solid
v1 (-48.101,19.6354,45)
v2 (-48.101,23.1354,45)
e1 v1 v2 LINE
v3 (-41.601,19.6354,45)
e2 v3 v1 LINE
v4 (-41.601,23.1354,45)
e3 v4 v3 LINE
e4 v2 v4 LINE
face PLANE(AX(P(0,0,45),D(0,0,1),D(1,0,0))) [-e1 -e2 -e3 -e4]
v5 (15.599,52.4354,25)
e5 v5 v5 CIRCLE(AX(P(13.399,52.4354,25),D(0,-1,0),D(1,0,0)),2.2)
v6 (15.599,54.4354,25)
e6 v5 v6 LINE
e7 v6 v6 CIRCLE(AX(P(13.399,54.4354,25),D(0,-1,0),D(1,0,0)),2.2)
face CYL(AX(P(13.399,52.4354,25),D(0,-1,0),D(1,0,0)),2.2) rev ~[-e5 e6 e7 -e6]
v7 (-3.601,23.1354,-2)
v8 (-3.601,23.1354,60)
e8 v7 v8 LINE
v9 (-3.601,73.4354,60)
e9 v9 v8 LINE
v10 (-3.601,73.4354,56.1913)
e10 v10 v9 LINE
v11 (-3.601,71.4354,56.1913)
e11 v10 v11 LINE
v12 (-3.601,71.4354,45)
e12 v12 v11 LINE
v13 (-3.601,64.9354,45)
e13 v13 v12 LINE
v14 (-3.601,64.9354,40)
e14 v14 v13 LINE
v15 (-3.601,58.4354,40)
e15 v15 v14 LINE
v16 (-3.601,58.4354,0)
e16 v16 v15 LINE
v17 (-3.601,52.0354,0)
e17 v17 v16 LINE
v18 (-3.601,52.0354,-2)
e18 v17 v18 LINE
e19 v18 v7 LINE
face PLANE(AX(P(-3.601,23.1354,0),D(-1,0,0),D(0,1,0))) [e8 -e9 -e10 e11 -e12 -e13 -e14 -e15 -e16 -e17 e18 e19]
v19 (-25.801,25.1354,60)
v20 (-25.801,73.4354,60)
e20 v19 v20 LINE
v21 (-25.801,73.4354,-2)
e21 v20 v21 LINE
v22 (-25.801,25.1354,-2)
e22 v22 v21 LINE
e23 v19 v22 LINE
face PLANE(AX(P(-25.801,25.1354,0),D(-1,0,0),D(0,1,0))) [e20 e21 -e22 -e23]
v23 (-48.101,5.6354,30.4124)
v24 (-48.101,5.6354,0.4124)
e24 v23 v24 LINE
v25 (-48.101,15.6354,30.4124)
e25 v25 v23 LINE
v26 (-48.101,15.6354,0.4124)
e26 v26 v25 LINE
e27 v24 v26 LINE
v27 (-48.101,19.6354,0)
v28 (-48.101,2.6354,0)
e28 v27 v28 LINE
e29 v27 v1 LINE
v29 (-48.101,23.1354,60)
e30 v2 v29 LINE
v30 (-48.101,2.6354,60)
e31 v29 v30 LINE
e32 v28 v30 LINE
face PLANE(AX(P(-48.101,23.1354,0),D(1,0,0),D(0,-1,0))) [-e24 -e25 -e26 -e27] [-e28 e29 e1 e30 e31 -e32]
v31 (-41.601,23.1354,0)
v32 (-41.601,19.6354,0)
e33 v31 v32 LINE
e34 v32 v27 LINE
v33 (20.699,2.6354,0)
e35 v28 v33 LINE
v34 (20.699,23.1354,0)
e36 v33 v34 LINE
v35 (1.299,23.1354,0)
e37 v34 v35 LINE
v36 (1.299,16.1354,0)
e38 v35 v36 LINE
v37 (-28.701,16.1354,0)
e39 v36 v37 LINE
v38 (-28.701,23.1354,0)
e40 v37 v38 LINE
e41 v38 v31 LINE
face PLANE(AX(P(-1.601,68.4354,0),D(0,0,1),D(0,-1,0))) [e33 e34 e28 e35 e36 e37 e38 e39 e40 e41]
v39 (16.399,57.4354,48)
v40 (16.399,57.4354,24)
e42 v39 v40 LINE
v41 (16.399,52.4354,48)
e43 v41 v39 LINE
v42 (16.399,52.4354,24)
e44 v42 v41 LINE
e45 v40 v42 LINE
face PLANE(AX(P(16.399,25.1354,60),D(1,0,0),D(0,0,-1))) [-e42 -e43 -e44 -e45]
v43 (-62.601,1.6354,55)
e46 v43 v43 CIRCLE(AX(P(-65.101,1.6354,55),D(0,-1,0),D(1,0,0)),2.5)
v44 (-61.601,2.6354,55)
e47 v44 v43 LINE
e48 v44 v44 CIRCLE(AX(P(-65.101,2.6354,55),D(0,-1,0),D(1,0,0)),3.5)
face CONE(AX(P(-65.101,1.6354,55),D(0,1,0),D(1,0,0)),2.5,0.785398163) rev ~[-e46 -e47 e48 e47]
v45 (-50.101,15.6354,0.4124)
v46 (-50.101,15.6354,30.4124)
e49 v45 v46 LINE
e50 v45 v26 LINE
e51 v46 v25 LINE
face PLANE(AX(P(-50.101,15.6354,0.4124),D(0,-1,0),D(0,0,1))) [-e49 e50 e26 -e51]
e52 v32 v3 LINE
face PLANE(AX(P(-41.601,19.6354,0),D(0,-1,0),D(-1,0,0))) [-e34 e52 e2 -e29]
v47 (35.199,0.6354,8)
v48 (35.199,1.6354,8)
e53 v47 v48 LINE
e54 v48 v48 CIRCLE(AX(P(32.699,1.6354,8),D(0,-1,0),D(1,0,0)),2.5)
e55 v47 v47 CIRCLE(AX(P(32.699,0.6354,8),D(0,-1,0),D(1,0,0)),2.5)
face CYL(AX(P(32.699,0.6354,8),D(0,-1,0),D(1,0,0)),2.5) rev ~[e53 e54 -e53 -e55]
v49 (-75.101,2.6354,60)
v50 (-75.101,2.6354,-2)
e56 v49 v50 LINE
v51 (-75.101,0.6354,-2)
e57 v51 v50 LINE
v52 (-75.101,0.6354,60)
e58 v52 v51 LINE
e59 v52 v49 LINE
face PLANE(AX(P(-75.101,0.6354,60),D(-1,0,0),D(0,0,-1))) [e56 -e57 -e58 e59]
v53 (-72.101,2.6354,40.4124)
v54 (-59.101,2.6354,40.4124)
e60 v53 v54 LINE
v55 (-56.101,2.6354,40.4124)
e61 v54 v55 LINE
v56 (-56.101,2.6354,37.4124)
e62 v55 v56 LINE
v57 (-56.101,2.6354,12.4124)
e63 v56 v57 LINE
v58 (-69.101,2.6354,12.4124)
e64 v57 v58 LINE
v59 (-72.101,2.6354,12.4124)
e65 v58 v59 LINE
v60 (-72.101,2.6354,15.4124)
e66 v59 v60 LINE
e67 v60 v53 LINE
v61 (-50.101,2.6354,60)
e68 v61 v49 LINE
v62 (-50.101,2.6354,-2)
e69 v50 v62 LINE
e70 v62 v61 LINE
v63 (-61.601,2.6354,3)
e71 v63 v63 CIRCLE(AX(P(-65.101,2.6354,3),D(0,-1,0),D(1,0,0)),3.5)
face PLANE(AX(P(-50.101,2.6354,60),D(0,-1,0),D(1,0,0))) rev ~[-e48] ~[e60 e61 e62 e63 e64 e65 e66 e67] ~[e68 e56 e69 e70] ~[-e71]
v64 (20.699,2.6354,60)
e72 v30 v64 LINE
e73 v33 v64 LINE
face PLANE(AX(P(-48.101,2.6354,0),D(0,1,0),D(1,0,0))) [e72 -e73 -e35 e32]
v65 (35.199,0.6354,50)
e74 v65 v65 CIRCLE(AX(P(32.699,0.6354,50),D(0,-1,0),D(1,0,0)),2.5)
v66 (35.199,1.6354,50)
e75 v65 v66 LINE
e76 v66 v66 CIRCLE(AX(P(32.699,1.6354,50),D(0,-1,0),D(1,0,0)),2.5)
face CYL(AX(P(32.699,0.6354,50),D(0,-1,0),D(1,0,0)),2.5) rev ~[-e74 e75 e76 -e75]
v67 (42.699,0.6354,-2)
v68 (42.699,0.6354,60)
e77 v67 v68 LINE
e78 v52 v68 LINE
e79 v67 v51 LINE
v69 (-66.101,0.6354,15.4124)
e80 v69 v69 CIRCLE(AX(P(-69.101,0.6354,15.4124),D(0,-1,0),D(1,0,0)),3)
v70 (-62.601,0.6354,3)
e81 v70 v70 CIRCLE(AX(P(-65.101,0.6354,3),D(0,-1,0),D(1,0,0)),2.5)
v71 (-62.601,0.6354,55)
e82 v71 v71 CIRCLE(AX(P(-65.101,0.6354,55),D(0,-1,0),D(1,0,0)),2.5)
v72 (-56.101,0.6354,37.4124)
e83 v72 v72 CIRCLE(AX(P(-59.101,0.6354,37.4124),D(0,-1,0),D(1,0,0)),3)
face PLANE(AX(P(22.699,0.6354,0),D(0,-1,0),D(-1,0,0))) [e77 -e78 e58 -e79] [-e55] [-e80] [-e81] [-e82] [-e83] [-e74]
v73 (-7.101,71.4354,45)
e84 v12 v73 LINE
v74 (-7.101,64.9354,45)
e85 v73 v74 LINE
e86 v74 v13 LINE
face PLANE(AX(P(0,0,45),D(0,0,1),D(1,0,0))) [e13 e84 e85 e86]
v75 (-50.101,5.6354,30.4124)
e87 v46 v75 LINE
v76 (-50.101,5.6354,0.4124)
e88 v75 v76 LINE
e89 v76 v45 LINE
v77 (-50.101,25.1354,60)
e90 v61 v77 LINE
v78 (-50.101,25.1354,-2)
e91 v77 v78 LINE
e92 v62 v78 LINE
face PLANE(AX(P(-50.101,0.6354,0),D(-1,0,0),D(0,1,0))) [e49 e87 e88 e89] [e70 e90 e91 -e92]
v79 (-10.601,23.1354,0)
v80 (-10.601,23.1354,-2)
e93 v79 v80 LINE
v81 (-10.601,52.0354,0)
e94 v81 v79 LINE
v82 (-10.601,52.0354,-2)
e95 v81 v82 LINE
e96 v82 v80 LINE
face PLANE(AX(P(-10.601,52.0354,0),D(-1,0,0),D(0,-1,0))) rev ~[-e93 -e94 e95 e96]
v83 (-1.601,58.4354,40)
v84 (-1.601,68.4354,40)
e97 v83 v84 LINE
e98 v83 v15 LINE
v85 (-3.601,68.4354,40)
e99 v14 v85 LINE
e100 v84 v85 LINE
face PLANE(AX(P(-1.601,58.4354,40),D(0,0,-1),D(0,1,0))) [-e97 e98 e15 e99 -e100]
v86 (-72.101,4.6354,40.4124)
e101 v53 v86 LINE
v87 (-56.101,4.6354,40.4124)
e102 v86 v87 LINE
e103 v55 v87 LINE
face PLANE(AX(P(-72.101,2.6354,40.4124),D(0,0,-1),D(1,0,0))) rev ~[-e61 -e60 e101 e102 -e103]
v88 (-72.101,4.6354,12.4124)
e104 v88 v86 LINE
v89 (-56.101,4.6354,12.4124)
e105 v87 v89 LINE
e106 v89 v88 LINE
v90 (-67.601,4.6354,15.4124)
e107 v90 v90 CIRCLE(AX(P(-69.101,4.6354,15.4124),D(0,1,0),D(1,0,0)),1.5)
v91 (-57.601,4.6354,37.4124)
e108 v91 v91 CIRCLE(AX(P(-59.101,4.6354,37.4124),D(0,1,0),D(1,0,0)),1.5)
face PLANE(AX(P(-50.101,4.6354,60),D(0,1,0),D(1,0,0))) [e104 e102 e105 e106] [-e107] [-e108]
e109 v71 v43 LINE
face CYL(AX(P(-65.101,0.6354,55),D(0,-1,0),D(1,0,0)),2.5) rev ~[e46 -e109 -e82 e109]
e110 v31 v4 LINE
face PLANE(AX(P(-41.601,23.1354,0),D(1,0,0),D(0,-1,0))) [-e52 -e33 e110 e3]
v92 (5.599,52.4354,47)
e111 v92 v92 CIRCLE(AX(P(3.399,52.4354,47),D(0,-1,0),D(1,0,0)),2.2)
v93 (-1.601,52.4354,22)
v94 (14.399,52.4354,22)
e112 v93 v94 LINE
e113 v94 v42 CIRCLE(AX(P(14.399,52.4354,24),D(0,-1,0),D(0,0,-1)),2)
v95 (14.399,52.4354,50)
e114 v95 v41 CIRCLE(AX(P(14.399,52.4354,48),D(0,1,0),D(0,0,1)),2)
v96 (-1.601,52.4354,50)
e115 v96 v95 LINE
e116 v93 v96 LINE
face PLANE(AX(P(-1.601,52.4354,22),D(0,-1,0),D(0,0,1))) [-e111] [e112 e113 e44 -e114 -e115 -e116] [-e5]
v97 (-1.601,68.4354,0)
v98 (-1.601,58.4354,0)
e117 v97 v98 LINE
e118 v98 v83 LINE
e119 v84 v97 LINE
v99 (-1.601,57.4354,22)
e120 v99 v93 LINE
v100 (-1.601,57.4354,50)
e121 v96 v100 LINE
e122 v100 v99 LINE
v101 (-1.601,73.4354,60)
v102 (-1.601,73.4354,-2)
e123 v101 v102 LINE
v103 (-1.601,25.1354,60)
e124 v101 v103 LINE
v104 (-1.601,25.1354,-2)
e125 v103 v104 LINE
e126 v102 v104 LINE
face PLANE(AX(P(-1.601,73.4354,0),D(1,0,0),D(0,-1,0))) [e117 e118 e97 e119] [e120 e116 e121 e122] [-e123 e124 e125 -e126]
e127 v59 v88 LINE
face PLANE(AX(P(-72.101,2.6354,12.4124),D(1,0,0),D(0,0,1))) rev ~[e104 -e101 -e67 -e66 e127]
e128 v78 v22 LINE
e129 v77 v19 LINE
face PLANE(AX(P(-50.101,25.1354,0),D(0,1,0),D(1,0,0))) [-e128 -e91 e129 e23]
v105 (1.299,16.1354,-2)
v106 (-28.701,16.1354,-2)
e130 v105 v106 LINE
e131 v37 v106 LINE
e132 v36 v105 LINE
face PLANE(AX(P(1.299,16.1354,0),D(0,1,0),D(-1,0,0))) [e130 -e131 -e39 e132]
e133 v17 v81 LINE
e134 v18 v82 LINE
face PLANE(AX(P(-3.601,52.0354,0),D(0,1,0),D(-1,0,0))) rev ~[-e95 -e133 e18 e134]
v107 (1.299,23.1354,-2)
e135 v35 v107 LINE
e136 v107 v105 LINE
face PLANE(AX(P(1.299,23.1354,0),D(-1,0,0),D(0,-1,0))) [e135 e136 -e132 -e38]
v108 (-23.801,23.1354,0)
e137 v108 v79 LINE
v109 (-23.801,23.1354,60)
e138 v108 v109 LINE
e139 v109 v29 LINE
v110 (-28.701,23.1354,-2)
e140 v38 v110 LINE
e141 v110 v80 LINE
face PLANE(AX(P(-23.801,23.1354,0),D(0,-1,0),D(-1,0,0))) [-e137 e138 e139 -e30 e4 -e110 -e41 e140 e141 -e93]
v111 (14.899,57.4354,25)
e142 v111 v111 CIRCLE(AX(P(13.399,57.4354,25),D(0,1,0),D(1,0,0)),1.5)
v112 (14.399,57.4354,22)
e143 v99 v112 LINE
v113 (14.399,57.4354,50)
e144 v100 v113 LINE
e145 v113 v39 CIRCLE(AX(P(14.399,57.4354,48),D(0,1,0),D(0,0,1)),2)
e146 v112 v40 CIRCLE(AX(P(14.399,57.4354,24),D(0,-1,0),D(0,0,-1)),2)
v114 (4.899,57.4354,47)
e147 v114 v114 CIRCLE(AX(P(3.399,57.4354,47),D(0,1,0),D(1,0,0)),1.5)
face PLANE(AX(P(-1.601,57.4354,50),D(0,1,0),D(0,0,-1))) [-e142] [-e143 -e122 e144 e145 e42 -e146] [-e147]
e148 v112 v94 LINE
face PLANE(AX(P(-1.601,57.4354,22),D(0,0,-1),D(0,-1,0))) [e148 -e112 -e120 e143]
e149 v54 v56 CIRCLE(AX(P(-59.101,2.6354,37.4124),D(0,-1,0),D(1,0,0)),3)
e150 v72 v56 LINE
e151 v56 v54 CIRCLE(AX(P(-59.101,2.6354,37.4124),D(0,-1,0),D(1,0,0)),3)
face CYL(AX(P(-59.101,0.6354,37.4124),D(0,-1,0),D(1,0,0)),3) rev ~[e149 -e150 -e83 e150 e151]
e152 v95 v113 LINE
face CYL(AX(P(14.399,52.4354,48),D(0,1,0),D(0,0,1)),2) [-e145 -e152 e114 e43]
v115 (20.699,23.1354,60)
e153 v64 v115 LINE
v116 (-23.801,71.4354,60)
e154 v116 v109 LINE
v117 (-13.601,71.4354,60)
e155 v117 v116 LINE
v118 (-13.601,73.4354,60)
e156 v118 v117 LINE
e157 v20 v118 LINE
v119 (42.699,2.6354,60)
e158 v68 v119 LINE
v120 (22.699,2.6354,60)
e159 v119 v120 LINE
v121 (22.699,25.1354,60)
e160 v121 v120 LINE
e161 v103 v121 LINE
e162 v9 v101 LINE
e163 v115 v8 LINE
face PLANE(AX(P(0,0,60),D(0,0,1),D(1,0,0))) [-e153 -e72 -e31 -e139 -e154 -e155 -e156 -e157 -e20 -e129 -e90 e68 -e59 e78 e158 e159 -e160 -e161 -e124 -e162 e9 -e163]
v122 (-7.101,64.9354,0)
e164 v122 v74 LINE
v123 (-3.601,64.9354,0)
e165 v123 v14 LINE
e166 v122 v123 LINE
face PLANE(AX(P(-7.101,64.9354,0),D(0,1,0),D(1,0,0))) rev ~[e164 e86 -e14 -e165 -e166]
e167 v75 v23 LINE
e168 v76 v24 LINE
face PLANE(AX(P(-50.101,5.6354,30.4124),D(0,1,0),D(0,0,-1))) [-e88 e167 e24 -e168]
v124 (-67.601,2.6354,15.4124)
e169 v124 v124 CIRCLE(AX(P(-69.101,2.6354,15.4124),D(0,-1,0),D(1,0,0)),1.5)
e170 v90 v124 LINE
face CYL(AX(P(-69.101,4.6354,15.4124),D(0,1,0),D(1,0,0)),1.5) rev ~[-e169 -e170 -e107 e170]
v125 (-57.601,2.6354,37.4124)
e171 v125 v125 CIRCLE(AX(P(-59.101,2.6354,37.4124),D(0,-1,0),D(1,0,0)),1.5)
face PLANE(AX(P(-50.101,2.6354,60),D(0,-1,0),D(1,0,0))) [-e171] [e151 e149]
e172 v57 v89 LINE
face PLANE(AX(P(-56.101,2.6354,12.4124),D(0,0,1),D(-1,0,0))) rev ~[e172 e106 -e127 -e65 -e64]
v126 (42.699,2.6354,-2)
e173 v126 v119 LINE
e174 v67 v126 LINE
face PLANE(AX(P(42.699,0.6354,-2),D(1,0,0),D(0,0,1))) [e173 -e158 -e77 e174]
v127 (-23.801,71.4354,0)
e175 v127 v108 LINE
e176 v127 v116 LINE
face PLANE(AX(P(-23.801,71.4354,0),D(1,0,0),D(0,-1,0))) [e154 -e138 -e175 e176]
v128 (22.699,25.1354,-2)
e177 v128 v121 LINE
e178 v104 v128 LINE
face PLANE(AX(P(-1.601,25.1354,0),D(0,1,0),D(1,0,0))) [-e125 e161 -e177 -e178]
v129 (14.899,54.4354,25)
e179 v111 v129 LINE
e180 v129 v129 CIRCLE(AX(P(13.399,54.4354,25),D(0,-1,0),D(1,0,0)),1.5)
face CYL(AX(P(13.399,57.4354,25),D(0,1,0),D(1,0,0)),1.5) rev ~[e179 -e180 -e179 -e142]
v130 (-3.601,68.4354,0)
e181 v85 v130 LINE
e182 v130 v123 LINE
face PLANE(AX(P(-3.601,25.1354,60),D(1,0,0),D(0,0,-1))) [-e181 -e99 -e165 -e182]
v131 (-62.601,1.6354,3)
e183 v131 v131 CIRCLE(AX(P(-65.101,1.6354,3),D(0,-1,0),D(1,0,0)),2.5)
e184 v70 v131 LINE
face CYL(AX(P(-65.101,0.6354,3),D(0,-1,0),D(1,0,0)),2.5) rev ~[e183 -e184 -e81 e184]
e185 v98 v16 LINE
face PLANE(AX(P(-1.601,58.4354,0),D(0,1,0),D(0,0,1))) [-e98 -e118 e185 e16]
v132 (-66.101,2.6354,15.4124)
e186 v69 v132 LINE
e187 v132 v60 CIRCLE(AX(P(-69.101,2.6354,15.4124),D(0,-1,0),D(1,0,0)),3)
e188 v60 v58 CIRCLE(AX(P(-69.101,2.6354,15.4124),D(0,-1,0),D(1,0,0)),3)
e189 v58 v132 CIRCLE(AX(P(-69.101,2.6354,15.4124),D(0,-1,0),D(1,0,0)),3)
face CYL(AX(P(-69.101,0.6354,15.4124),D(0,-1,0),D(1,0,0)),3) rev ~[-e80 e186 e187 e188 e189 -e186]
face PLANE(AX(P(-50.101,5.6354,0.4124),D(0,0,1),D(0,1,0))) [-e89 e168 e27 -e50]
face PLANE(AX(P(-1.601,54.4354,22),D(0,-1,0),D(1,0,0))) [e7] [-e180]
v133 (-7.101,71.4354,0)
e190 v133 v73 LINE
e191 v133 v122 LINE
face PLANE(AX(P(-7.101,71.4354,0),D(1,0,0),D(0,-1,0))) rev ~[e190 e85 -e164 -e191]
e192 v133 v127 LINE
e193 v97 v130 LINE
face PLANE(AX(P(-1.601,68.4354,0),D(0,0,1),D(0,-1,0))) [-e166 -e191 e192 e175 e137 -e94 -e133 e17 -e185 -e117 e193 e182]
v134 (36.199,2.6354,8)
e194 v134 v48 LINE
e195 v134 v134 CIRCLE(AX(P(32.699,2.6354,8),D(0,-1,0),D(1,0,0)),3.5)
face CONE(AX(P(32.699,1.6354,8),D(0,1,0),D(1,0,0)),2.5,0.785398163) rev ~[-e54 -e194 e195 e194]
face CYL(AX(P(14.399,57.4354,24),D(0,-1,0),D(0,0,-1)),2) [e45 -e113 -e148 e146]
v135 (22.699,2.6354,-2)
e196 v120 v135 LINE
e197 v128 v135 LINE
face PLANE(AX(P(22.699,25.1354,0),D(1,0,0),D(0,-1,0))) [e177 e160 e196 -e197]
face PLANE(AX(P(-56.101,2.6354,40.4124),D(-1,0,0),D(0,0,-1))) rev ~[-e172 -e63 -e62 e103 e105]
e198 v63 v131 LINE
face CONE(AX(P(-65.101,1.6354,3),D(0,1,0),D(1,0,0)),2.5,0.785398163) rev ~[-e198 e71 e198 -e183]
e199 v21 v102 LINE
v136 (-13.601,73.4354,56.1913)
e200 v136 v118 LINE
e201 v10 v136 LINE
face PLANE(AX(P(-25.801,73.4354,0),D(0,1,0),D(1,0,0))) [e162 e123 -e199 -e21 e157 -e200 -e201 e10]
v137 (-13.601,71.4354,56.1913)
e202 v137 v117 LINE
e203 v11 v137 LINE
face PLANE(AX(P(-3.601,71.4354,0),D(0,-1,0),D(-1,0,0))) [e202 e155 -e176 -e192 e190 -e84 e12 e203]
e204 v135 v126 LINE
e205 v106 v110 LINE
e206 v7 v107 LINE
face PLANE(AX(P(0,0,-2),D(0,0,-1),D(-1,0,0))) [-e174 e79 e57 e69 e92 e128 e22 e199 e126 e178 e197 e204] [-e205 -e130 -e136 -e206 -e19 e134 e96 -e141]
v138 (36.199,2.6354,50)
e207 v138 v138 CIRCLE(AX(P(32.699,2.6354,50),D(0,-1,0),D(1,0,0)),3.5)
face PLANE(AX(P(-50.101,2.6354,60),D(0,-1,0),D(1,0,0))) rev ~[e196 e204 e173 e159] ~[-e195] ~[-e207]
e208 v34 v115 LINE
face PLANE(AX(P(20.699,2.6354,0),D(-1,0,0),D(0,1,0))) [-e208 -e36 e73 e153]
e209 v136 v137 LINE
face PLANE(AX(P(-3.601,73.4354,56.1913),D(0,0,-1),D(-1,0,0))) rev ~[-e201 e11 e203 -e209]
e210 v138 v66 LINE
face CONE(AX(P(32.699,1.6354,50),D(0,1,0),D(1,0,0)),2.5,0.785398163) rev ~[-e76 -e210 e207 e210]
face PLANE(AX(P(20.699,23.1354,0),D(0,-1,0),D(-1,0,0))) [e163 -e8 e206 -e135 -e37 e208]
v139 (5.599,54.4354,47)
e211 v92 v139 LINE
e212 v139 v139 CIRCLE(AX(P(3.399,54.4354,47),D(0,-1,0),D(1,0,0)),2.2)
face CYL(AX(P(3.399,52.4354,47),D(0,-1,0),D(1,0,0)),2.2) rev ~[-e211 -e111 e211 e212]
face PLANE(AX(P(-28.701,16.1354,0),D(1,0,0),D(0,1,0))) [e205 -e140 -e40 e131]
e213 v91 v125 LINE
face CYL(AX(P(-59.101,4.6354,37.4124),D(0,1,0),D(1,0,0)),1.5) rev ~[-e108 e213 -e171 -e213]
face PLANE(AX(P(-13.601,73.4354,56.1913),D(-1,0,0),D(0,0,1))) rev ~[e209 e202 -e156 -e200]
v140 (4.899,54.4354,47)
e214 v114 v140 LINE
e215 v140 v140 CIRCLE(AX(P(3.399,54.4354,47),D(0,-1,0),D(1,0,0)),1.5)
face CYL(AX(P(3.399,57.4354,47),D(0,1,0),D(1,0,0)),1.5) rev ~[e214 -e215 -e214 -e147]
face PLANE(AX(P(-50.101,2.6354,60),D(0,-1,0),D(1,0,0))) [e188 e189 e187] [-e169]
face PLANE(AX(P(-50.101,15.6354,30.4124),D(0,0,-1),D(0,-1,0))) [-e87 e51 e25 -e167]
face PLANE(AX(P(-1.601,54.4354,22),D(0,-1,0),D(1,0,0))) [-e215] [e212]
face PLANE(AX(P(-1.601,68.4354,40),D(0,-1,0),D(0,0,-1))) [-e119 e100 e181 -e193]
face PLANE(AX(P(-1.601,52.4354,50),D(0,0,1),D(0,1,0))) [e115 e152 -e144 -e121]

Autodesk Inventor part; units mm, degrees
ref_plane "YZ Plane" through (0, 0, 0) normal (1, 0, 0) x (0, 1, 0)
ref_plane "XZ Plane" through (0, 0, 0) normal (0, 1, 0) x (-1, 0, 0)
ref_plane "XY Plane" through (0, 0, 0) normal (0, 0, 1) x (1, 0, 0)
sketch "Sketch1" plane through (0, 0, 0) normal (0, 0, 1) x (1, 0, 0)
  line L0 (-50.101, 0.6354) -> (-50.101, 25.1354)
  line L1 (-50.101, 25.1354) -> (-25.801, 25.1354)
  line L2 (-25.801, 25.1354) -> (-25.801, 73.4354)
  line L3 (-25.801, 73.4354) -> (-1.601, 73.4354)
  line L4 (-1.601, 73.4354) -> (-1.601, 25.1354)
  line L5 (-1.601, 25.1354) -> (22.699, 25.1354)
  line L6 (22.699, 25.1354) -> (22.699, 0.6354)
  line L7 (22.699, 0.6354) -> (-50.101, 0.6354)
  line L8 (-23.801, 71.4354) -> (-23.801, 23.1354)
  line L9 (-23.801, 23.1354) -> (-48.101, 23.1354)
  line L10 (-48.101, 23.1354) -> (-48.101, 2.6354)
  line L11 (-48.101, 2.6354) -> (20.699, 2.6354)
  line L12 (20.699, 2.6354) -> (20.699, 23.1354)
  line L13 (20.699, 23.1354) -> (-3.601, 23.1354)
  line L14 (-3.601, 23.1354) -> (-3.601, 71.4354)
  line L15 (-3.601, 71.4354) -> (-23.801, 71.4354)
  line L16 (-13.701, 71.4354) -> (-13.701, 50.8657) construction
  line L17 (-13.701, 2.6354) -> (-13.701, -4.6342) construction
  point P0 (0, 0)
  dimension "d1" = 20.2
  dimension "d2" = 2
  dimension "d3" = 20.5
  dimension "d4" = 68.8
  dimension "d6" = 68.8
extrude "Extrusion1" add sketch "Sketch1" along normal blind 60
sketch "Sketch2" plane through (0, 0, 0) normal (0, 0, -1) x (-1, 0, 0)
  line L0 (1.601, 73.4354) -> (1.601, 25.1354) projected
  line L1 (25.801, 73.4354) -> (1.601, 73.4354) projected
  line L2 (25.801, 25.1354) -> (25.801, 73.4354) projected
  line L3 (50.101, 25.1354) -> (25.801, 25.1354) projected
  line L4 (50.101, 0.6354) -> (50.101, 25.1354) projected
  line L5 (-22.699, 0.6354) -> (50.101, 0.6354) projected
  line L6 (-22.699, 25.1354) -> (-22.699, 0.6354) projected
  line L7 (1.601, 25.1354) -> (-22.699, 25.1354) projected
  point P0 (0, 0)
extrude "Extrusion2" add sketch "Sketch2" along normal blind 2
sketch "Sketch3" plane through (0, 0, 0) normal (0, 0, 1) x (1, 0, 0)
  line L0 (-3.601, 71.4354) -> (-7.101, 71.4354)
  line L1 (-7.101, 71.4354) -> (-7.101, 64.9354)
  line L2 (-7.101, 64.9354) -> (-3.601, 64.9354)
  line L3 (-3.601, 64.9354) -> (-3.601, 71.4354)
  line L4 (-48.101, 23.1354) -> (-41.601, 23.1354)
  line L5 (-41.601, 23.1354) -> (-41.601, 19.6354)
  line L6 (-41.601, 19.6354) -> (-48.101, 19.6354)
  line L7 (-48.101, 19.6354) -> (-48.101, 23.1354)
  point P0 (0, 0)
  dimension "d15" = 3.5
  dimension "d16" = 6.5
  dimension "d157" = 6.5
  dimension "d158" = 3.5
extrude "Extrusion3" add sketch "Sketch3" along normal blind 45
sketch "Sketch8" plane through (-25.801, 73.4354, 60) normal (0, 1, 0) x (1, 0, 0)
  line L0 (22.2, 60) -> (22.2, 0) projected
  line L1 (12.2, -0.1913) -> (22.2, -0.1913)
  line L2 (22.2, -0.1913) -> (22.2, 3.8087)
  line L3 (22.2, 3.8087) -> (12.2, 3.8087)
  line L4 (12.2, 3.8087) -> (12.2, -0.1913)
  point P0 (25.801, 60)
  dimension "d41" = 4
  dimension "d42" = 10
extrude "Extrusion8" cut sketch "Sketch8" against normal blind 2
sketch "Sketch14" plane through (-50.101, 0.6354, 60) normal (0, -1, 0) x (1, 0, 0)
  line L0 (0, 0) -> (-25, 0)
  line L1 (-25, 0) -> (-25, -62)
  line L2 (-25, -62) -> (0, -62)
  line L3 (0, -62) -> (0, 0)
  line L4 (0, -62) -> (0, 0) projected
  line L5 (0, -31) -> (-8.3028, -31) construction
  line L6 (-25, -31) -> (-20.8134, -31) construction
  circle A0 centre (-15, -5) radius 2.5
  line L7 (72.8, -62) -> (92.8, -62)
  line L8 (92.8, -62) -> (92.8, 0)
  line L9 (92.8, 0) -> (72.8, 0)
  line L10 (72.8, 0) -> (72.8, -62)
  line L11 (72.8, 0) -> (48.5, 0) projected
  circle A1 centre (82.8, -10) radius 2.5
  circle A2 centre (-15, -57) radius 2.5
  circle A3 centre (82.8, -52) radius 2.5
  point P0 (50.101, -60)
  dimension "d81" = 62
  dimension "d82" = 25
  dimension "d83" = 5
  dimension "d89" = 5
  dimension "d90" = 10
  dimension "d150" = 5
  dimension "d151" = 10
  dimension "d152" = 10
  dimension "d153" = 20
  dimension "d159" = 5
  dimension "d160" = 5
  dimension "d161" = 5
  dimension "d162" = 10
  dimension "d163" = 10
  dimension "d164" = 10
extrude "Extrusion14" add sketch "Sketch14" against normal blind 2
chamfer "Chamfer1" distance 1 angle 45 4 edges at (-67.601, 2.6354, 55) (-67.601, 2.6354, 3) (30.199, 2.6354, 8) (30.199, 2.6354, 50)
sketch "Sketch15" plane through (-50.101, 2.6354, 60) normal (0, 1, 0) x (1, 0, 0)
  line L0 (-6, 47.5876) -> (-22, 47.5876)
  line L1 (-22, 47.5876) -> (-22, 19.5876)
  line L2 (-22, 19.5876) -> (-6, 19.5876)
  line L3 (-6, 19.5876) -> (-6, 47.5876)
  line L4 (0, 0) -> (0, 62) projected
  point P0 (50.101, 60)
  dimension "d91" = 16
  dimension "d92" = 28
  dimension "d93" = 6
extrude "Extrusion15" add sketch "Sketch15" along normal blind 2
sketch "Sketch16" plane through (-50.101, 0.6354, 60) normal (-1, 0, 0) x (0, 0, 1)
  line L0 (-47.5876, 4) -> (-19.5876, 4) projected
  line L1 (-59.5876, 15) -> (-29.5876, 15)
  line L2 (-29.5876, 15) -> (-29.5876, 5)
  line L3 (-29.5876, 5) -> (-59.5876, 5)
  line L4 (-59.5876, 5) -> (-59.5876, 15)
  line L5 (-47.5876, 2) -> (-47.5876, 4) projected
  point P0 (-60, -0.6354)
  dimension "d96" = 18
  dimension "d97" = 30
  dimension "d99" = 1
  dimension "d100" = 10
extrude "Extrusion16" cut sketch "Sketch16" against normal blind 2
sketch "Sketch17" plane through (-50.101, 4.6354, 60) normal (0, 1, 0) x (1, 0, 0)
  circle A0 centre (-19, 44.5876) radius 1.5
  circle A1 centre (-9, 22.5876) radius 1.5
  line L0 (-22, 47.5876) -> (-22, 19.5876) projected
  line L1 (-6, 47.5876) -> (-22, 47.5876) projected
  line L2 (-22, 19.5876) -> (-6, 19.5876) projected
  line L3 (-6, 19.5876) -> (-6, 47.5876) projected
  point P0 (50.101, 60)
  dimension "d103" = 3
  dimension "d104" = 3
  dimension "d105" = 3
  dimension "d106" = 3
  dimension "d107" = 3
  dimension "d108" = 3
extrude "Extrusion17" cut sketch "Sketch17" against normal blind 4 contours A0 | A1
sketch "Sketch18" plane through (-50.101, 0.6354, 60) normal (0, -1, 0) x (1, 0, 0)
  circle A0 centre (-19, -44.5876) radius 3
  circle A1 centre (-9, -22.5876) radius 3
  circle A2 centre (-19, -44.5876) radius 1.5 projected
  circle A3 centre (-9, -22.5876) radius 1.5 projected
  point P0 (50.101, -60)
  dimension "d111" = 6
  dimension "d112" = 6
extrude "Extrusion18" cut sketch "Sketch18" against normal blind 2
sketch "Sketch19" plane through (-1.601, 25.1354, 60) normal (1, 0, 0) x (0, 0, -1)
  line L0 (10, 32.3) -> (38, 32.3)
  line L1 (38, 32.3) -> (38, 27.3)
  line L2 (38, 27.3) -> (10, 27.3)
  line L3 (10, 27.3) -> (10, 32.3)
  line L4 (0, 48.3) -> (62, 48.3) projected
  line L5 (0, 0) -> (0, 48.3) projected
  point P0 (60, -25.1354)
  dimension "d115" = 5
  dimension "d116" = 28
  dimension "d119" = 16
  dimension "d120" = 10
extrude "Extrusion19" add sketch "Sketch19" along normal blind 18
sketch "Sketch20" plane through (-1.601, 57.4354, 50) normal (0, 1, 0) x (1, 0, 0)
  circle A0 centre (15, 25) radius 1.5
  circle A1 centre (5, 3) radius 1.5
  line L0 (0, 28) -> (18, 28) projected
  line L1 (18, 28) -> (18, 0) projected
  line L2 (0, 0) -> (18, 0) projected
  line L3 (0, -10) -> (0, 52) projected
  point P0 (1.601, 50)
  dimension "d121" = 3
  dimension "d122" = 3
  dimension "d123" = 3
  dimension "d124" = 3
  dimension "d125" = 3
  dimension "d126" = 5
extrude "Extrusion20" cut sketch "Sketch20" against normal blind 10 contours A0 | A1
sketch "Sketch21" plane through (-1.601, 52.4354, 22) normal (0, -1, 0) x (1, 0, 0)
  circle A0 centre (5, 25) radius 2.2
  circle A1 centre (15, 3) radius 2.2
  circle A2 centre (15, 3) radius 1.5 projected
  circle A3 centre (5, 25) radius 1.5 projected
  point P0 (1.601, -22)
  dimension "d129" = 4.4
  dimension "d130" = 4.4
extrude "Extrusion21" cut sketch "Sketch21" against normal blind 2
fillet "Fillet4" radius 2 2 edges at (16.399, 54.9354, 50) (16.399, 54.9354, 22)
sketch "Sketch22" plane through (-1.601, 25.1354, 60) normal (1, 0, 0) x (0, 0, -1)
  line L0 (20, 43.3) -> (60, 43.3)
  line L1 (60, 43.3) -> (60, 33.3)
  line L2 (60, 33.3) -> (20, 33.3)
  line L3 (20, 33.3) -> (20, 43.3)
  line L4 (36, 32.3) -> (12, 32.3) projected
  line L5 (10, 32.3) -> (10, 27.3) projected
  point P0 (60, -25.1354)
  dimension "d134" = 1
  dimension "d135" = 10
  dimension "d136" = 40
  dimension "d137" = 10
extrude "Extrusion22" cut sketch "Sketch22" against normal blind 2
sketch "Sketch23" plane through (0, 0, 0) normal (0, 0, 1) x (1, 0, 0)
  line L0 (-48.101, 2.6354) -> (-48.101, 23.1354) projected
  line L1 (-3.601, 73.4354) -> (-3.601, 23.1354) projected
  line L2 (-10.601, 22.0354) -> (-3.601, 22.0354)
  line L3 (-3.601, 22.0354) -> (-3.601, 52.0354)
  line L4 (-3.601, 52.0354) -> (-10.601, 52.0354)
  line L5 (-10.601, 52.0354) -> (-10.601, 22.0354)
  line L6 (-28.701, 23.1354) -> (1.299, 23.1354)
  line L7 (1.299, 23.1354) -> (1.299, 16.1354)
  line L8 (1.299, 16.1354) -> (-28.701, 16.1354)
  line L9 (-28.701, 16.1354) -> (-28.701, 23.1354)
  line L10 (-3.601, 23.1354) -> (20.699, 23.1354) projected
  dimension "d147" = 30
  dimension "d149" = 7
  dimension "d154" = 30
  dimension "d155" = 7
  dimension "d156" = 19.4
extrude "Extrusion23" cut sketch "Sketch23" against normal blind 2
sketch "Sketch24" plane through (-75.101, 0.6354, -2) normal (0, -1, 0) x (1, 0, 0)
  point P0 (75.101, 2)
properties part number "Caja zapato ZOWI DER 2.1"
